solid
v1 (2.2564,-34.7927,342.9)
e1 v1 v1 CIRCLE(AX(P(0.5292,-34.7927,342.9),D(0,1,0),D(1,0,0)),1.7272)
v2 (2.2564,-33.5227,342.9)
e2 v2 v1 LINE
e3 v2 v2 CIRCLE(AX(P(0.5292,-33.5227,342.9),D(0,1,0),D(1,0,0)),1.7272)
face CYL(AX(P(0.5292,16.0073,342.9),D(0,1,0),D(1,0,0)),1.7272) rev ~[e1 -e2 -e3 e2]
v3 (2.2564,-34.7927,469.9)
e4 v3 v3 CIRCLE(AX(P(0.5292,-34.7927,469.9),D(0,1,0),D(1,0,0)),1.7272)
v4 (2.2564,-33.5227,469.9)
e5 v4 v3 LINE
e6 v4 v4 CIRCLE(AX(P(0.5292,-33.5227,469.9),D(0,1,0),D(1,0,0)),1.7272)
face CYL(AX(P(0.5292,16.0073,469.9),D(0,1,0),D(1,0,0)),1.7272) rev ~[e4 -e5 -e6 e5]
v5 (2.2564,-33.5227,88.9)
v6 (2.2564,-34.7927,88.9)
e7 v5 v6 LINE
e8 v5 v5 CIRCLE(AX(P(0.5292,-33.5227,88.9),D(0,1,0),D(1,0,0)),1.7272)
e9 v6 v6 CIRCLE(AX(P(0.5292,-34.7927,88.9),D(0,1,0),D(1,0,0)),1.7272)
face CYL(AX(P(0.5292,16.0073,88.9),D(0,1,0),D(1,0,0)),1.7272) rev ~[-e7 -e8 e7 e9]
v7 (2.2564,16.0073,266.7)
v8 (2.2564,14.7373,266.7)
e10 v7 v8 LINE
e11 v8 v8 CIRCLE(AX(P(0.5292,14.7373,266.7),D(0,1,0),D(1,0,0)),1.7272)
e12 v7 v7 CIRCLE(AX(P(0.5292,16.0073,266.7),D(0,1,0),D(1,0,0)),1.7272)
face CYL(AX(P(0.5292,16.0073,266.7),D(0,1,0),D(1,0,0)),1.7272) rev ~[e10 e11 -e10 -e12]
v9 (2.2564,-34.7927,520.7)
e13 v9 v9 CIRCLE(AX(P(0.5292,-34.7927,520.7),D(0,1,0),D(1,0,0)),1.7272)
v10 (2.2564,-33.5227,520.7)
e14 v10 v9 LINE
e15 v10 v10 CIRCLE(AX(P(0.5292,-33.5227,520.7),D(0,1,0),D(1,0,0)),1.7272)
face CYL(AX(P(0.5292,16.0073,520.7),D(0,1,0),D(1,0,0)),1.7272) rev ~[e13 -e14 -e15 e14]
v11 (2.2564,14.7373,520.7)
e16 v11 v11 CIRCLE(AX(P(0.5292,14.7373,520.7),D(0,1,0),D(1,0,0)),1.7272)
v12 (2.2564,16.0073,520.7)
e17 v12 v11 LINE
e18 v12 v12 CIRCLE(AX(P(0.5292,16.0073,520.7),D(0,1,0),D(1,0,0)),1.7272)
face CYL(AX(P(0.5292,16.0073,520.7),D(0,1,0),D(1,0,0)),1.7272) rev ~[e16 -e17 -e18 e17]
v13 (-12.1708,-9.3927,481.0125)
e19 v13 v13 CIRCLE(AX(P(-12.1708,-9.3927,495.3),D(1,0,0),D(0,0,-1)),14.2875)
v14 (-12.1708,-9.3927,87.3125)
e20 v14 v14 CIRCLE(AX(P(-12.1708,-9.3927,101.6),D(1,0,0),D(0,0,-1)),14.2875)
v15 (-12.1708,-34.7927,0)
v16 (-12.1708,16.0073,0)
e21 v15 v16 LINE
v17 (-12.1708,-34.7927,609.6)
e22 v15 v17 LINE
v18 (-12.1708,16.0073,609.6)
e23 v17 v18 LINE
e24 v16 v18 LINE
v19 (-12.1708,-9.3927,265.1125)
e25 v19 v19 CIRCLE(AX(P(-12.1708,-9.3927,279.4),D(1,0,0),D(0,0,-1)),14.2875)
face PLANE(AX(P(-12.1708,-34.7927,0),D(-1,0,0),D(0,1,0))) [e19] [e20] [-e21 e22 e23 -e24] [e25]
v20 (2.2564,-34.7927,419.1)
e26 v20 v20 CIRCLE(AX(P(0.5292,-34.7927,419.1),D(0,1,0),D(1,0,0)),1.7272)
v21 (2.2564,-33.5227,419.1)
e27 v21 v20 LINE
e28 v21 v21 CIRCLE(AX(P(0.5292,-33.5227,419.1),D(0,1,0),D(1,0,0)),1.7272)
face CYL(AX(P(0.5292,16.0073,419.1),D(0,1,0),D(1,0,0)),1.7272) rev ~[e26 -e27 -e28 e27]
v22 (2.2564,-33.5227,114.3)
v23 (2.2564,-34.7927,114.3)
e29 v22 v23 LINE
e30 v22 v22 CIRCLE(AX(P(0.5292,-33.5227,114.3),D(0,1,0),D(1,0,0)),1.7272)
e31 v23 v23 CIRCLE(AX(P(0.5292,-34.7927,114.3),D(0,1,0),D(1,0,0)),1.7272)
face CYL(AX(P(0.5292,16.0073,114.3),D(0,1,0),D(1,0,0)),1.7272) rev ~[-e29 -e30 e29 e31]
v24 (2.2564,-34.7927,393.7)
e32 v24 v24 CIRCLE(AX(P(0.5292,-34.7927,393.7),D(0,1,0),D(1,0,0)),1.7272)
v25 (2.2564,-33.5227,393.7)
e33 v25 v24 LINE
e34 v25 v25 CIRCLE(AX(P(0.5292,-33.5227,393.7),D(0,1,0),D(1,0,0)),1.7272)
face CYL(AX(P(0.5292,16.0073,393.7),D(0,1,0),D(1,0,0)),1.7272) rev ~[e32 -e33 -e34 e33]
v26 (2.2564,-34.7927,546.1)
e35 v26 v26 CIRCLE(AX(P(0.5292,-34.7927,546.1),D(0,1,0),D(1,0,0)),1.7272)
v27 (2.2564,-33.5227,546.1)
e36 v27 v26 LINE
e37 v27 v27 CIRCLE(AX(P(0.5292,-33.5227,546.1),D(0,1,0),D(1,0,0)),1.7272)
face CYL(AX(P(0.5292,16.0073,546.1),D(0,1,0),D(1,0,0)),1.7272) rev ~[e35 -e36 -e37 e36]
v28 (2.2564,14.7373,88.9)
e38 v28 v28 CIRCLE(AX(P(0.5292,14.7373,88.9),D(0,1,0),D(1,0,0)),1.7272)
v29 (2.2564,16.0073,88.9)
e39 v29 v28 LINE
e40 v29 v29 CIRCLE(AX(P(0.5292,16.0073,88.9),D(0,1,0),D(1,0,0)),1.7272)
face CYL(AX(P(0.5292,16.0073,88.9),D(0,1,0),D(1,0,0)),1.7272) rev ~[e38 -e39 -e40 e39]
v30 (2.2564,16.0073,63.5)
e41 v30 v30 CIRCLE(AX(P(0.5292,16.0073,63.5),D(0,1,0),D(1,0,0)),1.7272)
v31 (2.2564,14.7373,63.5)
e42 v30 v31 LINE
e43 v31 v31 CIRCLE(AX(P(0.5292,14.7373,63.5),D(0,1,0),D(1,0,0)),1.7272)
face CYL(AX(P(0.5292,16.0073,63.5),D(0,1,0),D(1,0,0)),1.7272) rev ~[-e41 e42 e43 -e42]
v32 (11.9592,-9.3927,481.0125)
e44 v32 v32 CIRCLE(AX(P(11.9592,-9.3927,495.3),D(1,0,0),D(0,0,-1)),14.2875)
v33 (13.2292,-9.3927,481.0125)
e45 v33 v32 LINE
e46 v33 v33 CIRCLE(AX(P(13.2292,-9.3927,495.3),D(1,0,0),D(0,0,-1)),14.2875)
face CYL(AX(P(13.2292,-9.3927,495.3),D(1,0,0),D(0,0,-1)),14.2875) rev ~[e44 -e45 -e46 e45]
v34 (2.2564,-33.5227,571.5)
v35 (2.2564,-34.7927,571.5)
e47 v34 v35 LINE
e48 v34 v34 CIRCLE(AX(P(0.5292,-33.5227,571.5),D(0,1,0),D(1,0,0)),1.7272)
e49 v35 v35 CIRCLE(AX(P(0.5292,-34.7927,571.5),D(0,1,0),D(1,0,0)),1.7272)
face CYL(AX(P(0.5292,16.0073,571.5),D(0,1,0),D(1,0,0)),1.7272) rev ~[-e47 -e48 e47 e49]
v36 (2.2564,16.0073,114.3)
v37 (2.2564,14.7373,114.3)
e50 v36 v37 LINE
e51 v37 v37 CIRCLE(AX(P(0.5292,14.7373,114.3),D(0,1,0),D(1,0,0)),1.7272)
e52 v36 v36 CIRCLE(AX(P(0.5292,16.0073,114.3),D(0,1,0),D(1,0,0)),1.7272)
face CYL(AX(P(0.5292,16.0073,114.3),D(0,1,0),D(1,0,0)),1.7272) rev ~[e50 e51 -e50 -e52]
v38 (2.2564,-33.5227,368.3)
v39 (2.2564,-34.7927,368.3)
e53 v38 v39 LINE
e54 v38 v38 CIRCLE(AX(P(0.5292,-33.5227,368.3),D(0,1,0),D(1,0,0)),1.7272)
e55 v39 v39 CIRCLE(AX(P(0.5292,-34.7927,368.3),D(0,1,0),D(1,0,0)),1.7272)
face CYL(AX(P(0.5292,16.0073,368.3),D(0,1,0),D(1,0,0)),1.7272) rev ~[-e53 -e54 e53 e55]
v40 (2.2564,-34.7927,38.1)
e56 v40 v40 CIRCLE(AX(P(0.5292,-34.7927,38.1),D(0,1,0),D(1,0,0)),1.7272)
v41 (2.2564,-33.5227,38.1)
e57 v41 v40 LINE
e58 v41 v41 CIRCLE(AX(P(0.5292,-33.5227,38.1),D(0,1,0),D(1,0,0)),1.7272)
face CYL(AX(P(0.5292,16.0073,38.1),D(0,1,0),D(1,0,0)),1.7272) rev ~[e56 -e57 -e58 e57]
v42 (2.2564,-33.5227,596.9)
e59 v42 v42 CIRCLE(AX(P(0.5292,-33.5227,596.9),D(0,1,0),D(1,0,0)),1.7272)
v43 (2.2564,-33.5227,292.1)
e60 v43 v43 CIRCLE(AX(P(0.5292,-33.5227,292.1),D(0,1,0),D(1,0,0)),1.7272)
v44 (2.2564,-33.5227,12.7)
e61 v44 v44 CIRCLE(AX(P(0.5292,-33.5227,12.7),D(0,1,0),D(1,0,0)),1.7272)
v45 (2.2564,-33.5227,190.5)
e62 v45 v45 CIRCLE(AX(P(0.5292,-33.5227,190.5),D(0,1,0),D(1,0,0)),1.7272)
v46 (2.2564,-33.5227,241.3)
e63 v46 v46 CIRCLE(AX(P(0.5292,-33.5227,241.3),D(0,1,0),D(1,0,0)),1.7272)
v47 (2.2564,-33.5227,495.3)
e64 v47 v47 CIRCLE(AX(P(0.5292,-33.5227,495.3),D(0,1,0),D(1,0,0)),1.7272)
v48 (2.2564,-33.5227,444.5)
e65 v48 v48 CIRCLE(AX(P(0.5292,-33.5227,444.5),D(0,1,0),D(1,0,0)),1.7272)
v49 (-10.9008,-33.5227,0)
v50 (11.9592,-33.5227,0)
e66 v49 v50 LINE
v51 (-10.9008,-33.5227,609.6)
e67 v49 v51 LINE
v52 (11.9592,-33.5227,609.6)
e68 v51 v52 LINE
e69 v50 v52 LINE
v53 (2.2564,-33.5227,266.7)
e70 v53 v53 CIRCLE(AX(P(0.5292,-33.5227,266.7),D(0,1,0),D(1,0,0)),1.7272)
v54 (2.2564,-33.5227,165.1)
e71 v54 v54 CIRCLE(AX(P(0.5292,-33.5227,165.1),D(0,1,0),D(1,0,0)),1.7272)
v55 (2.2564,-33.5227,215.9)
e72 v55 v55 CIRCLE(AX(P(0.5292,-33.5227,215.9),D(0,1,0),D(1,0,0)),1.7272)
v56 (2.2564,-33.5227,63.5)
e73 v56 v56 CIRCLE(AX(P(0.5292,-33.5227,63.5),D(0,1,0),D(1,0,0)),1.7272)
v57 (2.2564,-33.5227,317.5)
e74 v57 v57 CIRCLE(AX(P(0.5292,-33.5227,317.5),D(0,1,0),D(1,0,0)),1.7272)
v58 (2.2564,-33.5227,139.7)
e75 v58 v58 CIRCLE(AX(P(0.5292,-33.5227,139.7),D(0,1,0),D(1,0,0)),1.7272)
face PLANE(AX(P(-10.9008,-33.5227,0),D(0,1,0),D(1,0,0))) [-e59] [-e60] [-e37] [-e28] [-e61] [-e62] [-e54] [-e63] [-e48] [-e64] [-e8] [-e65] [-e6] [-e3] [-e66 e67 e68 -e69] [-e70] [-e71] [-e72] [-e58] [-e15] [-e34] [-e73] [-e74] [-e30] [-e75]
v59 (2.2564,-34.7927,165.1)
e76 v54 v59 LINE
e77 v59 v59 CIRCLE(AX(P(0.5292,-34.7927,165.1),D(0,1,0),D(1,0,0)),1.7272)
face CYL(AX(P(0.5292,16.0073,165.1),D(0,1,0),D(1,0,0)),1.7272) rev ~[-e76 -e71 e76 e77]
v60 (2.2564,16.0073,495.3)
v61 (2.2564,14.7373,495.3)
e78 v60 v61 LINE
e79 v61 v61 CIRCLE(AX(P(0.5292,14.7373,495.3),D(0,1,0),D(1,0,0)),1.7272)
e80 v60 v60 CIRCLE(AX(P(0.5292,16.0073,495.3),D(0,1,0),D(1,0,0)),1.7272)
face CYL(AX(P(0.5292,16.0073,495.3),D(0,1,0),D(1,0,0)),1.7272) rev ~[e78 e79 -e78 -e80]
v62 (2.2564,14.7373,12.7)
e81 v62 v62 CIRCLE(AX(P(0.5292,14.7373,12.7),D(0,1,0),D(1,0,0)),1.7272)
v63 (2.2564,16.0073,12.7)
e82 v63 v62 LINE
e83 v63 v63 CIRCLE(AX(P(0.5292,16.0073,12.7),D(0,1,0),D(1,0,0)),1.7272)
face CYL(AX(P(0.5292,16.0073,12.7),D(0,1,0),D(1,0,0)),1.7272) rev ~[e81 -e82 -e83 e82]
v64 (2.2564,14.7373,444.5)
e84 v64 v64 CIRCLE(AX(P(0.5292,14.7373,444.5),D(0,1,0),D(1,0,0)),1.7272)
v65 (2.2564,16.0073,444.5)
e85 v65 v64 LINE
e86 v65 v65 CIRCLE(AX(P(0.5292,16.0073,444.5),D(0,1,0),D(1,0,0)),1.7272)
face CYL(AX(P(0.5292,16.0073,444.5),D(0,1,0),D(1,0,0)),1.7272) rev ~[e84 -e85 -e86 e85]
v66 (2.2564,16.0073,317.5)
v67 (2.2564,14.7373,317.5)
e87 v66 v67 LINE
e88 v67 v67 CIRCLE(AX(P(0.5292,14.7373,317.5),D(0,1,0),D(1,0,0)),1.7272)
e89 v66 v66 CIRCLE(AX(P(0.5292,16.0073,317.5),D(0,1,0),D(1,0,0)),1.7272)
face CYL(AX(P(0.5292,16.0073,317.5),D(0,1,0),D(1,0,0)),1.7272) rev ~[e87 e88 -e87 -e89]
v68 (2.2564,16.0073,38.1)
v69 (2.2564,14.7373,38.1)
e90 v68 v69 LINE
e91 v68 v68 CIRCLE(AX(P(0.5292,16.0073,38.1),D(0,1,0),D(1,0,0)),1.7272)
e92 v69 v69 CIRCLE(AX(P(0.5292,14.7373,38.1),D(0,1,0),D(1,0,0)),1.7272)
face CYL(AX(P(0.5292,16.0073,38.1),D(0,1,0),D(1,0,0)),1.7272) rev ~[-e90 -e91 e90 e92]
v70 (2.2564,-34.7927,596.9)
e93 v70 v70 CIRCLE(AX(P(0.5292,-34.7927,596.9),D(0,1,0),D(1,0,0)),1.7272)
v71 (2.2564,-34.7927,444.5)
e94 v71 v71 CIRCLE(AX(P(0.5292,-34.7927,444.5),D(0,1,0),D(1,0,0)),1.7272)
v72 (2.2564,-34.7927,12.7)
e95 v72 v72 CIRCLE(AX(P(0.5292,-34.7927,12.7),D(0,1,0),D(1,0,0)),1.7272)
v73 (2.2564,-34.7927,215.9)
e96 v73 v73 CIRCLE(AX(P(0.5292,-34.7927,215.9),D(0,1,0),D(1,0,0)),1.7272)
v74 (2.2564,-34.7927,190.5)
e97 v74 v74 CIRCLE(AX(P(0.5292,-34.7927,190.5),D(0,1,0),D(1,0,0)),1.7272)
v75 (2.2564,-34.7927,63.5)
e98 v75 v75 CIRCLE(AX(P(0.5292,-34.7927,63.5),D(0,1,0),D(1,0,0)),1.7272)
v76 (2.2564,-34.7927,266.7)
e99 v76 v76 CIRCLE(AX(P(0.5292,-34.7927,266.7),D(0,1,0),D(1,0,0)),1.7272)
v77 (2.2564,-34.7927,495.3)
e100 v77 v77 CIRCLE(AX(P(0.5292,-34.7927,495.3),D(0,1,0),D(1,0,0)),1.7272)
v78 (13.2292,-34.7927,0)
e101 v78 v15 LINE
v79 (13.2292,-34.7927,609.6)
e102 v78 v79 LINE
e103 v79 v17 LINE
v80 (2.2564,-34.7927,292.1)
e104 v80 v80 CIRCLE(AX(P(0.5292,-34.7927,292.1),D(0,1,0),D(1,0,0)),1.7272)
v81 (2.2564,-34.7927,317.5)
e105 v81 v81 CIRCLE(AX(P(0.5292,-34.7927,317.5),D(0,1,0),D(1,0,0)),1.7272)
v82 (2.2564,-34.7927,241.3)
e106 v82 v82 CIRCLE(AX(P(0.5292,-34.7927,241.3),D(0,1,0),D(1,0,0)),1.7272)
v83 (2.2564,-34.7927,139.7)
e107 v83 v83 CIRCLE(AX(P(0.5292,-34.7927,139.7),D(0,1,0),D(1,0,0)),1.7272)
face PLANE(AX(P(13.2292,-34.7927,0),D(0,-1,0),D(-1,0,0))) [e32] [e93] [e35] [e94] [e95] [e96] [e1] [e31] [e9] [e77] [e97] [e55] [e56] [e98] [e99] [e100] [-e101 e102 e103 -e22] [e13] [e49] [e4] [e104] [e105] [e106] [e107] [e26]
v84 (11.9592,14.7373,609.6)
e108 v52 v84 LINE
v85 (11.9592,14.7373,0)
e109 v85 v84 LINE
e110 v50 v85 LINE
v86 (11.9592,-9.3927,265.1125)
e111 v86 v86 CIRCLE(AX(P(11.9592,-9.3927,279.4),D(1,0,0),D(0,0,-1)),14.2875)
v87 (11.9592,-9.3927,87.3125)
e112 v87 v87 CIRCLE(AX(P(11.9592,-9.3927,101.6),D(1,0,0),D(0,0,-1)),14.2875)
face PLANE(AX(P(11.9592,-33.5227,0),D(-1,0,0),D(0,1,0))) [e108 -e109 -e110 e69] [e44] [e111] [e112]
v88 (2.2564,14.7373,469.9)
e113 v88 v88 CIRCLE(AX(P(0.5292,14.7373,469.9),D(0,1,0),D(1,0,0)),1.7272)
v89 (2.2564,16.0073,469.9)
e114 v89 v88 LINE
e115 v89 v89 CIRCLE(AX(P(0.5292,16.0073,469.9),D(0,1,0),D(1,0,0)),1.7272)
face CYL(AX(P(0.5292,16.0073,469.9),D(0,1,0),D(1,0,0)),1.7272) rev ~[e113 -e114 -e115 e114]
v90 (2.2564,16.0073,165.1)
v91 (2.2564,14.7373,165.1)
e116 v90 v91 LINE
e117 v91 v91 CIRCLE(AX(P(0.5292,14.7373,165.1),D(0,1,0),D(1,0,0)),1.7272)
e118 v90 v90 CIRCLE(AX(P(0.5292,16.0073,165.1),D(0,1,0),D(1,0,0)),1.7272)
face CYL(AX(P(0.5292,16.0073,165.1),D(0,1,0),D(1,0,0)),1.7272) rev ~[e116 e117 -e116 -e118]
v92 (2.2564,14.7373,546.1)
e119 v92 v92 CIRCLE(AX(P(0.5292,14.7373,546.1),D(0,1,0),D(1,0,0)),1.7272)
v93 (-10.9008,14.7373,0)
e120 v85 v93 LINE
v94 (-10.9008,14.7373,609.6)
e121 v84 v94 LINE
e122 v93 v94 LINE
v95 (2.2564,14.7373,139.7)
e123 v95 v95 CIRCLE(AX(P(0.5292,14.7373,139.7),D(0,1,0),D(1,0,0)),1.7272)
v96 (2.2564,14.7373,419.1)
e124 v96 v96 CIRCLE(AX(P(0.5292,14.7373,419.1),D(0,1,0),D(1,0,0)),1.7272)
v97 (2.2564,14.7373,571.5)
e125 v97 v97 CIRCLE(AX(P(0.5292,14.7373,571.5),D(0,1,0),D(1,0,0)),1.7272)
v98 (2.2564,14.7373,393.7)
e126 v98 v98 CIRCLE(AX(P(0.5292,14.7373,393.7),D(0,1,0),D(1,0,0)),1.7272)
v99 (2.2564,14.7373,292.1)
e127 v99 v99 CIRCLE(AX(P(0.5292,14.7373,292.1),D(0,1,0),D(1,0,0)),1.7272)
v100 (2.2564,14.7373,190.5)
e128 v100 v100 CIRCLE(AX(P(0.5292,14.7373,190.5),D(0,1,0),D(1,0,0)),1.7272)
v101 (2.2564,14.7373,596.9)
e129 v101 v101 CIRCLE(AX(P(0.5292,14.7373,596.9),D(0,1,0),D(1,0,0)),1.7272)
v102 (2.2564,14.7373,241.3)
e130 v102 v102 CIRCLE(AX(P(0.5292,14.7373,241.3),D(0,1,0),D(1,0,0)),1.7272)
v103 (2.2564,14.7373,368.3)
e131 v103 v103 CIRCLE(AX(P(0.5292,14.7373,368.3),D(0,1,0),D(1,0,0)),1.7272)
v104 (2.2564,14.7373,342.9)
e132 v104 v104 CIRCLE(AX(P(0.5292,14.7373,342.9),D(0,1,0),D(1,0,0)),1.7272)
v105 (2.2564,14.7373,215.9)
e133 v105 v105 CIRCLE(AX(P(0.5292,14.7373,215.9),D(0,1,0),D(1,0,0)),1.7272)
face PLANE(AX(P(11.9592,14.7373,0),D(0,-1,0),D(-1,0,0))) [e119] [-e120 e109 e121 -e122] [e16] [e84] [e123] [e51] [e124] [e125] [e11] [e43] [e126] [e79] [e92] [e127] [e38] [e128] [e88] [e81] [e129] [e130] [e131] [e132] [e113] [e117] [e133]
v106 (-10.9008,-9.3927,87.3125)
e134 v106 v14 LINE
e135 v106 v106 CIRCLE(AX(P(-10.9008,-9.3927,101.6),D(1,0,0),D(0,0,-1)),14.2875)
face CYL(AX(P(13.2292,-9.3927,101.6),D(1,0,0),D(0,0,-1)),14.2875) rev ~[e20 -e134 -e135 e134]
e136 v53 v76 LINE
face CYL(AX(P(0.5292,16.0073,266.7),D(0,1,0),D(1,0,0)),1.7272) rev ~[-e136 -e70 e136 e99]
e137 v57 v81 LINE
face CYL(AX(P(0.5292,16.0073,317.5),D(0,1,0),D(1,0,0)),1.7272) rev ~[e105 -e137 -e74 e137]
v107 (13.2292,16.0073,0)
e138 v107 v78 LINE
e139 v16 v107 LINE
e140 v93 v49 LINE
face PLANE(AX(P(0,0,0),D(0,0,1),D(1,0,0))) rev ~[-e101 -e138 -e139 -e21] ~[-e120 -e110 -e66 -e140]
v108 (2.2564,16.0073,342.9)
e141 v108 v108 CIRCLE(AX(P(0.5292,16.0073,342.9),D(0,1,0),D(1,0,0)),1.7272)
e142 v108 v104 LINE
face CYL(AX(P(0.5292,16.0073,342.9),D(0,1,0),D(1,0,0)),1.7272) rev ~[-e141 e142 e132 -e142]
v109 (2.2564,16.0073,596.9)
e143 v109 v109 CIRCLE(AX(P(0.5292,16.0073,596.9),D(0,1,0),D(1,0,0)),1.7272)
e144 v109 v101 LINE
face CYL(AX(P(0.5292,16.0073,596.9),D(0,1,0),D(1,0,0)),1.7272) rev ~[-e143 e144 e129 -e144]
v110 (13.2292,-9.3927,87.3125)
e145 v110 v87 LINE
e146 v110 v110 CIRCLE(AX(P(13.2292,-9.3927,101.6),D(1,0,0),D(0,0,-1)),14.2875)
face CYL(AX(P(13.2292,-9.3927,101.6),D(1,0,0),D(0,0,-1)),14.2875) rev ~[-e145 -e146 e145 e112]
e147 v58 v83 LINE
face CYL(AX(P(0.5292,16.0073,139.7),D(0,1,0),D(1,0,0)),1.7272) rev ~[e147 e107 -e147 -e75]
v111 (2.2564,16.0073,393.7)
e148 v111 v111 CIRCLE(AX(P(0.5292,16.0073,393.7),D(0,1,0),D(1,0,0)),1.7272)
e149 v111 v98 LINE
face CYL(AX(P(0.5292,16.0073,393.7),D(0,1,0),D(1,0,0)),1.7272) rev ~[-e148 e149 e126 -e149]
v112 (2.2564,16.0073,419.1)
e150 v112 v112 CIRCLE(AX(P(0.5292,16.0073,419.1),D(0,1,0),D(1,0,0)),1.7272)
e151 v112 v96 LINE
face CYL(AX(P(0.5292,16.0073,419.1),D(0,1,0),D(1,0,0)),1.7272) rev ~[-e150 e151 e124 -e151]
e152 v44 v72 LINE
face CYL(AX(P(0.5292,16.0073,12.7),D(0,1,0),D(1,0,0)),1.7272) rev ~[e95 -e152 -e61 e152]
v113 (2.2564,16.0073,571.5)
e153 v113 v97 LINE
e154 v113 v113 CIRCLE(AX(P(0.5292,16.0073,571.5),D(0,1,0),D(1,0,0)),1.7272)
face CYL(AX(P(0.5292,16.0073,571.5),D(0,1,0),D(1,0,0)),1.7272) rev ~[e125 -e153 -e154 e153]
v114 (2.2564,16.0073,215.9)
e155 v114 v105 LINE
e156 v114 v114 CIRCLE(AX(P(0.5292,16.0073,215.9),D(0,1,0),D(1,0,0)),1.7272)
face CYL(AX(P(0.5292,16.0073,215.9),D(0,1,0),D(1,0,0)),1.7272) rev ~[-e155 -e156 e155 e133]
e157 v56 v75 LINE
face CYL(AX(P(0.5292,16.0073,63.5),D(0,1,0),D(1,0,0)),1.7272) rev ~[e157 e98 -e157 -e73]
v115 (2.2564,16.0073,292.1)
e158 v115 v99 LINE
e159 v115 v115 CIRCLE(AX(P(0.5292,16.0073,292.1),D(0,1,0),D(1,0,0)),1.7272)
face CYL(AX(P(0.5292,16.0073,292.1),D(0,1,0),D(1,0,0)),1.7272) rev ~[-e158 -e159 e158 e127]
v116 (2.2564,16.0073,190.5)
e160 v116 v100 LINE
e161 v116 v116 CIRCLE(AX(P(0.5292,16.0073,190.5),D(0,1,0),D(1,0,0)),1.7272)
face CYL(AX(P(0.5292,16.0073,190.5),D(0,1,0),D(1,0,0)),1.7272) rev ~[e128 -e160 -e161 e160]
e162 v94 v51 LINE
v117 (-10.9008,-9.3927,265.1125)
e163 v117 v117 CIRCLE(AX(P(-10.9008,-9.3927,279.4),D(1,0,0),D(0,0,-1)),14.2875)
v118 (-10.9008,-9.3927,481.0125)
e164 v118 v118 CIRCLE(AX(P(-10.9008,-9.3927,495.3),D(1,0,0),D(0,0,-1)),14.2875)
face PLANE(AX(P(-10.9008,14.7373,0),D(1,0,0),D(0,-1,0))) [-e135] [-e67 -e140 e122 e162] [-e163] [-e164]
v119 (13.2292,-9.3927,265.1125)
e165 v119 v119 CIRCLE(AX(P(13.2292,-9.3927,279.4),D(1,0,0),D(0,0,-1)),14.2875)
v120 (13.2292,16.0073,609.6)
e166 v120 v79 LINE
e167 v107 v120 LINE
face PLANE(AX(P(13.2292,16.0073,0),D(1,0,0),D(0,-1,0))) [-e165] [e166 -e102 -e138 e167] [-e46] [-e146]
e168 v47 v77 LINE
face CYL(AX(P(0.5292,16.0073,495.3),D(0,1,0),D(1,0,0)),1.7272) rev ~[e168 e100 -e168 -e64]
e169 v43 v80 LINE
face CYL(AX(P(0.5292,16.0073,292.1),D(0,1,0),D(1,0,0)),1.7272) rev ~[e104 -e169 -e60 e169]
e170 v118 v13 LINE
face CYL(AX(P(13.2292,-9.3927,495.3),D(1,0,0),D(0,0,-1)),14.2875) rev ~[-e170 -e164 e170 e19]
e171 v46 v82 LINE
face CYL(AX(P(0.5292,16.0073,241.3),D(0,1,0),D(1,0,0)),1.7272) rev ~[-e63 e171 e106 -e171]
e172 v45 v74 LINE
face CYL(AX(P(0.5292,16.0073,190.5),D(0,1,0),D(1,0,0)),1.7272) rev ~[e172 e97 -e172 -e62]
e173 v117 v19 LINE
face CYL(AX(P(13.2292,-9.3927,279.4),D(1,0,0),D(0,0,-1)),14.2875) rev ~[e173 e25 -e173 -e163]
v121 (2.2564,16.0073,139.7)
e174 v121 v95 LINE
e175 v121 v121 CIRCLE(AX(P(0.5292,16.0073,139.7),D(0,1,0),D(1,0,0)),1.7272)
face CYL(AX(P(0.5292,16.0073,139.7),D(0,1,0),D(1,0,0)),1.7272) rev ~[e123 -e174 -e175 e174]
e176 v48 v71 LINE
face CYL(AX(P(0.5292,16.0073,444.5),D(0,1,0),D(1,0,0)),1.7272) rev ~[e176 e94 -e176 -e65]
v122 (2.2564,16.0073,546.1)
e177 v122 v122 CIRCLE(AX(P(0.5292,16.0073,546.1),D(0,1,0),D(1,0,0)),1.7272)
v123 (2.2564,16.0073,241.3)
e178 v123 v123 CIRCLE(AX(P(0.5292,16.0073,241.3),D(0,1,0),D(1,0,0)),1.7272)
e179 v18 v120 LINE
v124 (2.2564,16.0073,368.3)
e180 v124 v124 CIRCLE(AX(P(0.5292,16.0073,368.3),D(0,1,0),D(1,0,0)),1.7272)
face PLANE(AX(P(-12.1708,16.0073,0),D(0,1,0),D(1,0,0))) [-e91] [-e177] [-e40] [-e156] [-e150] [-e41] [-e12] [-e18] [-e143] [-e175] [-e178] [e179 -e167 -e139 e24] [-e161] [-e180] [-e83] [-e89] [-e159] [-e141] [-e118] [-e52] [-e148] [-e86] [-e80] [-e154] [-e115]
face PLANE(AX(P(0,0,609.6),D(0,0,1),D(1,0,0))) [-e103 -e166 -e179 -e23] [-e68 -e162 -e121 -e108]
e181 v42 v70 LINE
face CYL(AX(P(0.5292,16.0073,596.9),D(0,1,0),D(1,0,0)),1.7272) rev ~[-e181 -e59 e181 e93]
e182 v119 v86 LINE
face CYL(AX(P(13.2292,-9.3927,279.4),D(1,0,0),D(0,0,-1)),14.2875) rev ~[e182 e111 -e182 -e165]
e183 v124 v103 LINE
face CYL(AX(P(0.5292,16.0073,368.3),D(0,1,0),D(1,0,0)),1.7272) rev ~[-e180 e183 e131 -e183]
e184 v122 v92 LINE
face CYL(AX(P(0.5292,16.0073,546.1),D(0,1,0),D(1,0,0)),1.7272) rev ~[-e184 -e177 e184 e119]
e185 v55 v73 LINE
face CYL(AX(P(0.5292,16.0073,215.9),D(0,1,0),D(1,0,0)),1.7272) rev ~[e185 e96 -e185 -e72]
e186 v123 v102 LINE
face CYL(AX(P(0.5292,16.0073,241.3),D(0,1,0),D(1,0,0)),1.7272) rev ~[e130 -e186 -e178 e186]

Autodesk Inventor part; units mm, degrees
ref_plane "YZ Plane" through (0, 0, 0) normal (1, 0, 0) x (0, 1, 0)
ref_plane "XZ Plane" through (0, 0, 0) normal (0, 1, 0) x (-1, 0, 0)
ref_plane "XY Plane" through (0, 0, 0) normal (0, 0, 1) x (1, 0, 0)
sketch "Sketch1" plane through (0, 0, 0) normal (0, 0, 1) x (1, 0, 0)
  line L0 (-12.1708, 16.0073) -> (13.2292, 16.0073)
  line L1 (13.2292, 16.0073) -> (13.2292, -34.7927)
  line L2 (13.2292, -34.7927) -> (-12.1708, -34.7927)
  line L3 (-12.1708, -34.7927) -> (-12.1708, 16.0073)
  line L4 (11.9592, 14.7373) -> (-10.9008, 14.7373)
  line L5 (-10.9008, 14.7373) -> (-10.9008, -33.5227)
  line L6 (-10.9008, -33.5227) -> (11.9592, -33.5227)
  line L7 (11.9592, -33.5227) -> (11.9592, 14.7373)
  point P0 (0, 0)
  dimension "d0" = 25.4
  dimension "d1" = 50.8
  dimension "d2" = 1.27
extrude "Extrusion1" add sketch "Sketch1" along normal blind 609.6
sketch "Sketch2" plane through (-12.1708, 16.0073, 0) normal (0, 1, 0) x (1, 0, 0)
  circle A0 centre (12.7, -12.7) radius 1.7272
  line L0 (25.4, 0) -> (0, 0) projected
  line L1 (0, 0) -> (0, -609.6) projected
  point P0 (12.1708, 0)
  dimension "d5" = 3.4544
  dimension "d6" = 12.7
  dimension "d7" = 12.7
extrude "Extrusion2" cut sketch "Sketch2" against normal through all
pattern_linear "Rectangular Pattern1" count 61 spacing 25.4 along (0, 0, 1) of "Extrusion2"
sketch "Sketch3" plane through (13.2292, -34.7927, 0) normal (1, 0, 0) x (0, 0, -1)
  circle A0 centre (-495.3, 25.4) radius 14.2875
  line L0 (-609.6, 0) -> (-609.6, 50.8) projected
  line L1 (0, 0) -> (-609.6, 0) projected
  circle A1 centre (-279.4, 25.4) radius 14.2875
  circle A2 centre (-101.6, 25.4) radius 14.2875
  point P0 (0, 34.7927)
  point P1 (-609.6, 25.4)
  dimension "d15" = 28.575
  dimension "d16" = 114.3
  dimension "d17" = 25.4
  dimension "d18" = 28.575
  dimension "d19" = 330.2
  dimension "d20" = 28.575
  dimension "d21" = 177.8
  dimension "d22" = 25.4
  dimension "d23" = 25.4
extrude "Extrusion3" cut sketch "Sketch3" against normal blind 214.3125
equation "\"d3\" = d13"
equation "\"d10\" = d14"
equation "\"d13\" = 609.6"
equation "\"d14\" = d13"
properties part number "intake versa"
